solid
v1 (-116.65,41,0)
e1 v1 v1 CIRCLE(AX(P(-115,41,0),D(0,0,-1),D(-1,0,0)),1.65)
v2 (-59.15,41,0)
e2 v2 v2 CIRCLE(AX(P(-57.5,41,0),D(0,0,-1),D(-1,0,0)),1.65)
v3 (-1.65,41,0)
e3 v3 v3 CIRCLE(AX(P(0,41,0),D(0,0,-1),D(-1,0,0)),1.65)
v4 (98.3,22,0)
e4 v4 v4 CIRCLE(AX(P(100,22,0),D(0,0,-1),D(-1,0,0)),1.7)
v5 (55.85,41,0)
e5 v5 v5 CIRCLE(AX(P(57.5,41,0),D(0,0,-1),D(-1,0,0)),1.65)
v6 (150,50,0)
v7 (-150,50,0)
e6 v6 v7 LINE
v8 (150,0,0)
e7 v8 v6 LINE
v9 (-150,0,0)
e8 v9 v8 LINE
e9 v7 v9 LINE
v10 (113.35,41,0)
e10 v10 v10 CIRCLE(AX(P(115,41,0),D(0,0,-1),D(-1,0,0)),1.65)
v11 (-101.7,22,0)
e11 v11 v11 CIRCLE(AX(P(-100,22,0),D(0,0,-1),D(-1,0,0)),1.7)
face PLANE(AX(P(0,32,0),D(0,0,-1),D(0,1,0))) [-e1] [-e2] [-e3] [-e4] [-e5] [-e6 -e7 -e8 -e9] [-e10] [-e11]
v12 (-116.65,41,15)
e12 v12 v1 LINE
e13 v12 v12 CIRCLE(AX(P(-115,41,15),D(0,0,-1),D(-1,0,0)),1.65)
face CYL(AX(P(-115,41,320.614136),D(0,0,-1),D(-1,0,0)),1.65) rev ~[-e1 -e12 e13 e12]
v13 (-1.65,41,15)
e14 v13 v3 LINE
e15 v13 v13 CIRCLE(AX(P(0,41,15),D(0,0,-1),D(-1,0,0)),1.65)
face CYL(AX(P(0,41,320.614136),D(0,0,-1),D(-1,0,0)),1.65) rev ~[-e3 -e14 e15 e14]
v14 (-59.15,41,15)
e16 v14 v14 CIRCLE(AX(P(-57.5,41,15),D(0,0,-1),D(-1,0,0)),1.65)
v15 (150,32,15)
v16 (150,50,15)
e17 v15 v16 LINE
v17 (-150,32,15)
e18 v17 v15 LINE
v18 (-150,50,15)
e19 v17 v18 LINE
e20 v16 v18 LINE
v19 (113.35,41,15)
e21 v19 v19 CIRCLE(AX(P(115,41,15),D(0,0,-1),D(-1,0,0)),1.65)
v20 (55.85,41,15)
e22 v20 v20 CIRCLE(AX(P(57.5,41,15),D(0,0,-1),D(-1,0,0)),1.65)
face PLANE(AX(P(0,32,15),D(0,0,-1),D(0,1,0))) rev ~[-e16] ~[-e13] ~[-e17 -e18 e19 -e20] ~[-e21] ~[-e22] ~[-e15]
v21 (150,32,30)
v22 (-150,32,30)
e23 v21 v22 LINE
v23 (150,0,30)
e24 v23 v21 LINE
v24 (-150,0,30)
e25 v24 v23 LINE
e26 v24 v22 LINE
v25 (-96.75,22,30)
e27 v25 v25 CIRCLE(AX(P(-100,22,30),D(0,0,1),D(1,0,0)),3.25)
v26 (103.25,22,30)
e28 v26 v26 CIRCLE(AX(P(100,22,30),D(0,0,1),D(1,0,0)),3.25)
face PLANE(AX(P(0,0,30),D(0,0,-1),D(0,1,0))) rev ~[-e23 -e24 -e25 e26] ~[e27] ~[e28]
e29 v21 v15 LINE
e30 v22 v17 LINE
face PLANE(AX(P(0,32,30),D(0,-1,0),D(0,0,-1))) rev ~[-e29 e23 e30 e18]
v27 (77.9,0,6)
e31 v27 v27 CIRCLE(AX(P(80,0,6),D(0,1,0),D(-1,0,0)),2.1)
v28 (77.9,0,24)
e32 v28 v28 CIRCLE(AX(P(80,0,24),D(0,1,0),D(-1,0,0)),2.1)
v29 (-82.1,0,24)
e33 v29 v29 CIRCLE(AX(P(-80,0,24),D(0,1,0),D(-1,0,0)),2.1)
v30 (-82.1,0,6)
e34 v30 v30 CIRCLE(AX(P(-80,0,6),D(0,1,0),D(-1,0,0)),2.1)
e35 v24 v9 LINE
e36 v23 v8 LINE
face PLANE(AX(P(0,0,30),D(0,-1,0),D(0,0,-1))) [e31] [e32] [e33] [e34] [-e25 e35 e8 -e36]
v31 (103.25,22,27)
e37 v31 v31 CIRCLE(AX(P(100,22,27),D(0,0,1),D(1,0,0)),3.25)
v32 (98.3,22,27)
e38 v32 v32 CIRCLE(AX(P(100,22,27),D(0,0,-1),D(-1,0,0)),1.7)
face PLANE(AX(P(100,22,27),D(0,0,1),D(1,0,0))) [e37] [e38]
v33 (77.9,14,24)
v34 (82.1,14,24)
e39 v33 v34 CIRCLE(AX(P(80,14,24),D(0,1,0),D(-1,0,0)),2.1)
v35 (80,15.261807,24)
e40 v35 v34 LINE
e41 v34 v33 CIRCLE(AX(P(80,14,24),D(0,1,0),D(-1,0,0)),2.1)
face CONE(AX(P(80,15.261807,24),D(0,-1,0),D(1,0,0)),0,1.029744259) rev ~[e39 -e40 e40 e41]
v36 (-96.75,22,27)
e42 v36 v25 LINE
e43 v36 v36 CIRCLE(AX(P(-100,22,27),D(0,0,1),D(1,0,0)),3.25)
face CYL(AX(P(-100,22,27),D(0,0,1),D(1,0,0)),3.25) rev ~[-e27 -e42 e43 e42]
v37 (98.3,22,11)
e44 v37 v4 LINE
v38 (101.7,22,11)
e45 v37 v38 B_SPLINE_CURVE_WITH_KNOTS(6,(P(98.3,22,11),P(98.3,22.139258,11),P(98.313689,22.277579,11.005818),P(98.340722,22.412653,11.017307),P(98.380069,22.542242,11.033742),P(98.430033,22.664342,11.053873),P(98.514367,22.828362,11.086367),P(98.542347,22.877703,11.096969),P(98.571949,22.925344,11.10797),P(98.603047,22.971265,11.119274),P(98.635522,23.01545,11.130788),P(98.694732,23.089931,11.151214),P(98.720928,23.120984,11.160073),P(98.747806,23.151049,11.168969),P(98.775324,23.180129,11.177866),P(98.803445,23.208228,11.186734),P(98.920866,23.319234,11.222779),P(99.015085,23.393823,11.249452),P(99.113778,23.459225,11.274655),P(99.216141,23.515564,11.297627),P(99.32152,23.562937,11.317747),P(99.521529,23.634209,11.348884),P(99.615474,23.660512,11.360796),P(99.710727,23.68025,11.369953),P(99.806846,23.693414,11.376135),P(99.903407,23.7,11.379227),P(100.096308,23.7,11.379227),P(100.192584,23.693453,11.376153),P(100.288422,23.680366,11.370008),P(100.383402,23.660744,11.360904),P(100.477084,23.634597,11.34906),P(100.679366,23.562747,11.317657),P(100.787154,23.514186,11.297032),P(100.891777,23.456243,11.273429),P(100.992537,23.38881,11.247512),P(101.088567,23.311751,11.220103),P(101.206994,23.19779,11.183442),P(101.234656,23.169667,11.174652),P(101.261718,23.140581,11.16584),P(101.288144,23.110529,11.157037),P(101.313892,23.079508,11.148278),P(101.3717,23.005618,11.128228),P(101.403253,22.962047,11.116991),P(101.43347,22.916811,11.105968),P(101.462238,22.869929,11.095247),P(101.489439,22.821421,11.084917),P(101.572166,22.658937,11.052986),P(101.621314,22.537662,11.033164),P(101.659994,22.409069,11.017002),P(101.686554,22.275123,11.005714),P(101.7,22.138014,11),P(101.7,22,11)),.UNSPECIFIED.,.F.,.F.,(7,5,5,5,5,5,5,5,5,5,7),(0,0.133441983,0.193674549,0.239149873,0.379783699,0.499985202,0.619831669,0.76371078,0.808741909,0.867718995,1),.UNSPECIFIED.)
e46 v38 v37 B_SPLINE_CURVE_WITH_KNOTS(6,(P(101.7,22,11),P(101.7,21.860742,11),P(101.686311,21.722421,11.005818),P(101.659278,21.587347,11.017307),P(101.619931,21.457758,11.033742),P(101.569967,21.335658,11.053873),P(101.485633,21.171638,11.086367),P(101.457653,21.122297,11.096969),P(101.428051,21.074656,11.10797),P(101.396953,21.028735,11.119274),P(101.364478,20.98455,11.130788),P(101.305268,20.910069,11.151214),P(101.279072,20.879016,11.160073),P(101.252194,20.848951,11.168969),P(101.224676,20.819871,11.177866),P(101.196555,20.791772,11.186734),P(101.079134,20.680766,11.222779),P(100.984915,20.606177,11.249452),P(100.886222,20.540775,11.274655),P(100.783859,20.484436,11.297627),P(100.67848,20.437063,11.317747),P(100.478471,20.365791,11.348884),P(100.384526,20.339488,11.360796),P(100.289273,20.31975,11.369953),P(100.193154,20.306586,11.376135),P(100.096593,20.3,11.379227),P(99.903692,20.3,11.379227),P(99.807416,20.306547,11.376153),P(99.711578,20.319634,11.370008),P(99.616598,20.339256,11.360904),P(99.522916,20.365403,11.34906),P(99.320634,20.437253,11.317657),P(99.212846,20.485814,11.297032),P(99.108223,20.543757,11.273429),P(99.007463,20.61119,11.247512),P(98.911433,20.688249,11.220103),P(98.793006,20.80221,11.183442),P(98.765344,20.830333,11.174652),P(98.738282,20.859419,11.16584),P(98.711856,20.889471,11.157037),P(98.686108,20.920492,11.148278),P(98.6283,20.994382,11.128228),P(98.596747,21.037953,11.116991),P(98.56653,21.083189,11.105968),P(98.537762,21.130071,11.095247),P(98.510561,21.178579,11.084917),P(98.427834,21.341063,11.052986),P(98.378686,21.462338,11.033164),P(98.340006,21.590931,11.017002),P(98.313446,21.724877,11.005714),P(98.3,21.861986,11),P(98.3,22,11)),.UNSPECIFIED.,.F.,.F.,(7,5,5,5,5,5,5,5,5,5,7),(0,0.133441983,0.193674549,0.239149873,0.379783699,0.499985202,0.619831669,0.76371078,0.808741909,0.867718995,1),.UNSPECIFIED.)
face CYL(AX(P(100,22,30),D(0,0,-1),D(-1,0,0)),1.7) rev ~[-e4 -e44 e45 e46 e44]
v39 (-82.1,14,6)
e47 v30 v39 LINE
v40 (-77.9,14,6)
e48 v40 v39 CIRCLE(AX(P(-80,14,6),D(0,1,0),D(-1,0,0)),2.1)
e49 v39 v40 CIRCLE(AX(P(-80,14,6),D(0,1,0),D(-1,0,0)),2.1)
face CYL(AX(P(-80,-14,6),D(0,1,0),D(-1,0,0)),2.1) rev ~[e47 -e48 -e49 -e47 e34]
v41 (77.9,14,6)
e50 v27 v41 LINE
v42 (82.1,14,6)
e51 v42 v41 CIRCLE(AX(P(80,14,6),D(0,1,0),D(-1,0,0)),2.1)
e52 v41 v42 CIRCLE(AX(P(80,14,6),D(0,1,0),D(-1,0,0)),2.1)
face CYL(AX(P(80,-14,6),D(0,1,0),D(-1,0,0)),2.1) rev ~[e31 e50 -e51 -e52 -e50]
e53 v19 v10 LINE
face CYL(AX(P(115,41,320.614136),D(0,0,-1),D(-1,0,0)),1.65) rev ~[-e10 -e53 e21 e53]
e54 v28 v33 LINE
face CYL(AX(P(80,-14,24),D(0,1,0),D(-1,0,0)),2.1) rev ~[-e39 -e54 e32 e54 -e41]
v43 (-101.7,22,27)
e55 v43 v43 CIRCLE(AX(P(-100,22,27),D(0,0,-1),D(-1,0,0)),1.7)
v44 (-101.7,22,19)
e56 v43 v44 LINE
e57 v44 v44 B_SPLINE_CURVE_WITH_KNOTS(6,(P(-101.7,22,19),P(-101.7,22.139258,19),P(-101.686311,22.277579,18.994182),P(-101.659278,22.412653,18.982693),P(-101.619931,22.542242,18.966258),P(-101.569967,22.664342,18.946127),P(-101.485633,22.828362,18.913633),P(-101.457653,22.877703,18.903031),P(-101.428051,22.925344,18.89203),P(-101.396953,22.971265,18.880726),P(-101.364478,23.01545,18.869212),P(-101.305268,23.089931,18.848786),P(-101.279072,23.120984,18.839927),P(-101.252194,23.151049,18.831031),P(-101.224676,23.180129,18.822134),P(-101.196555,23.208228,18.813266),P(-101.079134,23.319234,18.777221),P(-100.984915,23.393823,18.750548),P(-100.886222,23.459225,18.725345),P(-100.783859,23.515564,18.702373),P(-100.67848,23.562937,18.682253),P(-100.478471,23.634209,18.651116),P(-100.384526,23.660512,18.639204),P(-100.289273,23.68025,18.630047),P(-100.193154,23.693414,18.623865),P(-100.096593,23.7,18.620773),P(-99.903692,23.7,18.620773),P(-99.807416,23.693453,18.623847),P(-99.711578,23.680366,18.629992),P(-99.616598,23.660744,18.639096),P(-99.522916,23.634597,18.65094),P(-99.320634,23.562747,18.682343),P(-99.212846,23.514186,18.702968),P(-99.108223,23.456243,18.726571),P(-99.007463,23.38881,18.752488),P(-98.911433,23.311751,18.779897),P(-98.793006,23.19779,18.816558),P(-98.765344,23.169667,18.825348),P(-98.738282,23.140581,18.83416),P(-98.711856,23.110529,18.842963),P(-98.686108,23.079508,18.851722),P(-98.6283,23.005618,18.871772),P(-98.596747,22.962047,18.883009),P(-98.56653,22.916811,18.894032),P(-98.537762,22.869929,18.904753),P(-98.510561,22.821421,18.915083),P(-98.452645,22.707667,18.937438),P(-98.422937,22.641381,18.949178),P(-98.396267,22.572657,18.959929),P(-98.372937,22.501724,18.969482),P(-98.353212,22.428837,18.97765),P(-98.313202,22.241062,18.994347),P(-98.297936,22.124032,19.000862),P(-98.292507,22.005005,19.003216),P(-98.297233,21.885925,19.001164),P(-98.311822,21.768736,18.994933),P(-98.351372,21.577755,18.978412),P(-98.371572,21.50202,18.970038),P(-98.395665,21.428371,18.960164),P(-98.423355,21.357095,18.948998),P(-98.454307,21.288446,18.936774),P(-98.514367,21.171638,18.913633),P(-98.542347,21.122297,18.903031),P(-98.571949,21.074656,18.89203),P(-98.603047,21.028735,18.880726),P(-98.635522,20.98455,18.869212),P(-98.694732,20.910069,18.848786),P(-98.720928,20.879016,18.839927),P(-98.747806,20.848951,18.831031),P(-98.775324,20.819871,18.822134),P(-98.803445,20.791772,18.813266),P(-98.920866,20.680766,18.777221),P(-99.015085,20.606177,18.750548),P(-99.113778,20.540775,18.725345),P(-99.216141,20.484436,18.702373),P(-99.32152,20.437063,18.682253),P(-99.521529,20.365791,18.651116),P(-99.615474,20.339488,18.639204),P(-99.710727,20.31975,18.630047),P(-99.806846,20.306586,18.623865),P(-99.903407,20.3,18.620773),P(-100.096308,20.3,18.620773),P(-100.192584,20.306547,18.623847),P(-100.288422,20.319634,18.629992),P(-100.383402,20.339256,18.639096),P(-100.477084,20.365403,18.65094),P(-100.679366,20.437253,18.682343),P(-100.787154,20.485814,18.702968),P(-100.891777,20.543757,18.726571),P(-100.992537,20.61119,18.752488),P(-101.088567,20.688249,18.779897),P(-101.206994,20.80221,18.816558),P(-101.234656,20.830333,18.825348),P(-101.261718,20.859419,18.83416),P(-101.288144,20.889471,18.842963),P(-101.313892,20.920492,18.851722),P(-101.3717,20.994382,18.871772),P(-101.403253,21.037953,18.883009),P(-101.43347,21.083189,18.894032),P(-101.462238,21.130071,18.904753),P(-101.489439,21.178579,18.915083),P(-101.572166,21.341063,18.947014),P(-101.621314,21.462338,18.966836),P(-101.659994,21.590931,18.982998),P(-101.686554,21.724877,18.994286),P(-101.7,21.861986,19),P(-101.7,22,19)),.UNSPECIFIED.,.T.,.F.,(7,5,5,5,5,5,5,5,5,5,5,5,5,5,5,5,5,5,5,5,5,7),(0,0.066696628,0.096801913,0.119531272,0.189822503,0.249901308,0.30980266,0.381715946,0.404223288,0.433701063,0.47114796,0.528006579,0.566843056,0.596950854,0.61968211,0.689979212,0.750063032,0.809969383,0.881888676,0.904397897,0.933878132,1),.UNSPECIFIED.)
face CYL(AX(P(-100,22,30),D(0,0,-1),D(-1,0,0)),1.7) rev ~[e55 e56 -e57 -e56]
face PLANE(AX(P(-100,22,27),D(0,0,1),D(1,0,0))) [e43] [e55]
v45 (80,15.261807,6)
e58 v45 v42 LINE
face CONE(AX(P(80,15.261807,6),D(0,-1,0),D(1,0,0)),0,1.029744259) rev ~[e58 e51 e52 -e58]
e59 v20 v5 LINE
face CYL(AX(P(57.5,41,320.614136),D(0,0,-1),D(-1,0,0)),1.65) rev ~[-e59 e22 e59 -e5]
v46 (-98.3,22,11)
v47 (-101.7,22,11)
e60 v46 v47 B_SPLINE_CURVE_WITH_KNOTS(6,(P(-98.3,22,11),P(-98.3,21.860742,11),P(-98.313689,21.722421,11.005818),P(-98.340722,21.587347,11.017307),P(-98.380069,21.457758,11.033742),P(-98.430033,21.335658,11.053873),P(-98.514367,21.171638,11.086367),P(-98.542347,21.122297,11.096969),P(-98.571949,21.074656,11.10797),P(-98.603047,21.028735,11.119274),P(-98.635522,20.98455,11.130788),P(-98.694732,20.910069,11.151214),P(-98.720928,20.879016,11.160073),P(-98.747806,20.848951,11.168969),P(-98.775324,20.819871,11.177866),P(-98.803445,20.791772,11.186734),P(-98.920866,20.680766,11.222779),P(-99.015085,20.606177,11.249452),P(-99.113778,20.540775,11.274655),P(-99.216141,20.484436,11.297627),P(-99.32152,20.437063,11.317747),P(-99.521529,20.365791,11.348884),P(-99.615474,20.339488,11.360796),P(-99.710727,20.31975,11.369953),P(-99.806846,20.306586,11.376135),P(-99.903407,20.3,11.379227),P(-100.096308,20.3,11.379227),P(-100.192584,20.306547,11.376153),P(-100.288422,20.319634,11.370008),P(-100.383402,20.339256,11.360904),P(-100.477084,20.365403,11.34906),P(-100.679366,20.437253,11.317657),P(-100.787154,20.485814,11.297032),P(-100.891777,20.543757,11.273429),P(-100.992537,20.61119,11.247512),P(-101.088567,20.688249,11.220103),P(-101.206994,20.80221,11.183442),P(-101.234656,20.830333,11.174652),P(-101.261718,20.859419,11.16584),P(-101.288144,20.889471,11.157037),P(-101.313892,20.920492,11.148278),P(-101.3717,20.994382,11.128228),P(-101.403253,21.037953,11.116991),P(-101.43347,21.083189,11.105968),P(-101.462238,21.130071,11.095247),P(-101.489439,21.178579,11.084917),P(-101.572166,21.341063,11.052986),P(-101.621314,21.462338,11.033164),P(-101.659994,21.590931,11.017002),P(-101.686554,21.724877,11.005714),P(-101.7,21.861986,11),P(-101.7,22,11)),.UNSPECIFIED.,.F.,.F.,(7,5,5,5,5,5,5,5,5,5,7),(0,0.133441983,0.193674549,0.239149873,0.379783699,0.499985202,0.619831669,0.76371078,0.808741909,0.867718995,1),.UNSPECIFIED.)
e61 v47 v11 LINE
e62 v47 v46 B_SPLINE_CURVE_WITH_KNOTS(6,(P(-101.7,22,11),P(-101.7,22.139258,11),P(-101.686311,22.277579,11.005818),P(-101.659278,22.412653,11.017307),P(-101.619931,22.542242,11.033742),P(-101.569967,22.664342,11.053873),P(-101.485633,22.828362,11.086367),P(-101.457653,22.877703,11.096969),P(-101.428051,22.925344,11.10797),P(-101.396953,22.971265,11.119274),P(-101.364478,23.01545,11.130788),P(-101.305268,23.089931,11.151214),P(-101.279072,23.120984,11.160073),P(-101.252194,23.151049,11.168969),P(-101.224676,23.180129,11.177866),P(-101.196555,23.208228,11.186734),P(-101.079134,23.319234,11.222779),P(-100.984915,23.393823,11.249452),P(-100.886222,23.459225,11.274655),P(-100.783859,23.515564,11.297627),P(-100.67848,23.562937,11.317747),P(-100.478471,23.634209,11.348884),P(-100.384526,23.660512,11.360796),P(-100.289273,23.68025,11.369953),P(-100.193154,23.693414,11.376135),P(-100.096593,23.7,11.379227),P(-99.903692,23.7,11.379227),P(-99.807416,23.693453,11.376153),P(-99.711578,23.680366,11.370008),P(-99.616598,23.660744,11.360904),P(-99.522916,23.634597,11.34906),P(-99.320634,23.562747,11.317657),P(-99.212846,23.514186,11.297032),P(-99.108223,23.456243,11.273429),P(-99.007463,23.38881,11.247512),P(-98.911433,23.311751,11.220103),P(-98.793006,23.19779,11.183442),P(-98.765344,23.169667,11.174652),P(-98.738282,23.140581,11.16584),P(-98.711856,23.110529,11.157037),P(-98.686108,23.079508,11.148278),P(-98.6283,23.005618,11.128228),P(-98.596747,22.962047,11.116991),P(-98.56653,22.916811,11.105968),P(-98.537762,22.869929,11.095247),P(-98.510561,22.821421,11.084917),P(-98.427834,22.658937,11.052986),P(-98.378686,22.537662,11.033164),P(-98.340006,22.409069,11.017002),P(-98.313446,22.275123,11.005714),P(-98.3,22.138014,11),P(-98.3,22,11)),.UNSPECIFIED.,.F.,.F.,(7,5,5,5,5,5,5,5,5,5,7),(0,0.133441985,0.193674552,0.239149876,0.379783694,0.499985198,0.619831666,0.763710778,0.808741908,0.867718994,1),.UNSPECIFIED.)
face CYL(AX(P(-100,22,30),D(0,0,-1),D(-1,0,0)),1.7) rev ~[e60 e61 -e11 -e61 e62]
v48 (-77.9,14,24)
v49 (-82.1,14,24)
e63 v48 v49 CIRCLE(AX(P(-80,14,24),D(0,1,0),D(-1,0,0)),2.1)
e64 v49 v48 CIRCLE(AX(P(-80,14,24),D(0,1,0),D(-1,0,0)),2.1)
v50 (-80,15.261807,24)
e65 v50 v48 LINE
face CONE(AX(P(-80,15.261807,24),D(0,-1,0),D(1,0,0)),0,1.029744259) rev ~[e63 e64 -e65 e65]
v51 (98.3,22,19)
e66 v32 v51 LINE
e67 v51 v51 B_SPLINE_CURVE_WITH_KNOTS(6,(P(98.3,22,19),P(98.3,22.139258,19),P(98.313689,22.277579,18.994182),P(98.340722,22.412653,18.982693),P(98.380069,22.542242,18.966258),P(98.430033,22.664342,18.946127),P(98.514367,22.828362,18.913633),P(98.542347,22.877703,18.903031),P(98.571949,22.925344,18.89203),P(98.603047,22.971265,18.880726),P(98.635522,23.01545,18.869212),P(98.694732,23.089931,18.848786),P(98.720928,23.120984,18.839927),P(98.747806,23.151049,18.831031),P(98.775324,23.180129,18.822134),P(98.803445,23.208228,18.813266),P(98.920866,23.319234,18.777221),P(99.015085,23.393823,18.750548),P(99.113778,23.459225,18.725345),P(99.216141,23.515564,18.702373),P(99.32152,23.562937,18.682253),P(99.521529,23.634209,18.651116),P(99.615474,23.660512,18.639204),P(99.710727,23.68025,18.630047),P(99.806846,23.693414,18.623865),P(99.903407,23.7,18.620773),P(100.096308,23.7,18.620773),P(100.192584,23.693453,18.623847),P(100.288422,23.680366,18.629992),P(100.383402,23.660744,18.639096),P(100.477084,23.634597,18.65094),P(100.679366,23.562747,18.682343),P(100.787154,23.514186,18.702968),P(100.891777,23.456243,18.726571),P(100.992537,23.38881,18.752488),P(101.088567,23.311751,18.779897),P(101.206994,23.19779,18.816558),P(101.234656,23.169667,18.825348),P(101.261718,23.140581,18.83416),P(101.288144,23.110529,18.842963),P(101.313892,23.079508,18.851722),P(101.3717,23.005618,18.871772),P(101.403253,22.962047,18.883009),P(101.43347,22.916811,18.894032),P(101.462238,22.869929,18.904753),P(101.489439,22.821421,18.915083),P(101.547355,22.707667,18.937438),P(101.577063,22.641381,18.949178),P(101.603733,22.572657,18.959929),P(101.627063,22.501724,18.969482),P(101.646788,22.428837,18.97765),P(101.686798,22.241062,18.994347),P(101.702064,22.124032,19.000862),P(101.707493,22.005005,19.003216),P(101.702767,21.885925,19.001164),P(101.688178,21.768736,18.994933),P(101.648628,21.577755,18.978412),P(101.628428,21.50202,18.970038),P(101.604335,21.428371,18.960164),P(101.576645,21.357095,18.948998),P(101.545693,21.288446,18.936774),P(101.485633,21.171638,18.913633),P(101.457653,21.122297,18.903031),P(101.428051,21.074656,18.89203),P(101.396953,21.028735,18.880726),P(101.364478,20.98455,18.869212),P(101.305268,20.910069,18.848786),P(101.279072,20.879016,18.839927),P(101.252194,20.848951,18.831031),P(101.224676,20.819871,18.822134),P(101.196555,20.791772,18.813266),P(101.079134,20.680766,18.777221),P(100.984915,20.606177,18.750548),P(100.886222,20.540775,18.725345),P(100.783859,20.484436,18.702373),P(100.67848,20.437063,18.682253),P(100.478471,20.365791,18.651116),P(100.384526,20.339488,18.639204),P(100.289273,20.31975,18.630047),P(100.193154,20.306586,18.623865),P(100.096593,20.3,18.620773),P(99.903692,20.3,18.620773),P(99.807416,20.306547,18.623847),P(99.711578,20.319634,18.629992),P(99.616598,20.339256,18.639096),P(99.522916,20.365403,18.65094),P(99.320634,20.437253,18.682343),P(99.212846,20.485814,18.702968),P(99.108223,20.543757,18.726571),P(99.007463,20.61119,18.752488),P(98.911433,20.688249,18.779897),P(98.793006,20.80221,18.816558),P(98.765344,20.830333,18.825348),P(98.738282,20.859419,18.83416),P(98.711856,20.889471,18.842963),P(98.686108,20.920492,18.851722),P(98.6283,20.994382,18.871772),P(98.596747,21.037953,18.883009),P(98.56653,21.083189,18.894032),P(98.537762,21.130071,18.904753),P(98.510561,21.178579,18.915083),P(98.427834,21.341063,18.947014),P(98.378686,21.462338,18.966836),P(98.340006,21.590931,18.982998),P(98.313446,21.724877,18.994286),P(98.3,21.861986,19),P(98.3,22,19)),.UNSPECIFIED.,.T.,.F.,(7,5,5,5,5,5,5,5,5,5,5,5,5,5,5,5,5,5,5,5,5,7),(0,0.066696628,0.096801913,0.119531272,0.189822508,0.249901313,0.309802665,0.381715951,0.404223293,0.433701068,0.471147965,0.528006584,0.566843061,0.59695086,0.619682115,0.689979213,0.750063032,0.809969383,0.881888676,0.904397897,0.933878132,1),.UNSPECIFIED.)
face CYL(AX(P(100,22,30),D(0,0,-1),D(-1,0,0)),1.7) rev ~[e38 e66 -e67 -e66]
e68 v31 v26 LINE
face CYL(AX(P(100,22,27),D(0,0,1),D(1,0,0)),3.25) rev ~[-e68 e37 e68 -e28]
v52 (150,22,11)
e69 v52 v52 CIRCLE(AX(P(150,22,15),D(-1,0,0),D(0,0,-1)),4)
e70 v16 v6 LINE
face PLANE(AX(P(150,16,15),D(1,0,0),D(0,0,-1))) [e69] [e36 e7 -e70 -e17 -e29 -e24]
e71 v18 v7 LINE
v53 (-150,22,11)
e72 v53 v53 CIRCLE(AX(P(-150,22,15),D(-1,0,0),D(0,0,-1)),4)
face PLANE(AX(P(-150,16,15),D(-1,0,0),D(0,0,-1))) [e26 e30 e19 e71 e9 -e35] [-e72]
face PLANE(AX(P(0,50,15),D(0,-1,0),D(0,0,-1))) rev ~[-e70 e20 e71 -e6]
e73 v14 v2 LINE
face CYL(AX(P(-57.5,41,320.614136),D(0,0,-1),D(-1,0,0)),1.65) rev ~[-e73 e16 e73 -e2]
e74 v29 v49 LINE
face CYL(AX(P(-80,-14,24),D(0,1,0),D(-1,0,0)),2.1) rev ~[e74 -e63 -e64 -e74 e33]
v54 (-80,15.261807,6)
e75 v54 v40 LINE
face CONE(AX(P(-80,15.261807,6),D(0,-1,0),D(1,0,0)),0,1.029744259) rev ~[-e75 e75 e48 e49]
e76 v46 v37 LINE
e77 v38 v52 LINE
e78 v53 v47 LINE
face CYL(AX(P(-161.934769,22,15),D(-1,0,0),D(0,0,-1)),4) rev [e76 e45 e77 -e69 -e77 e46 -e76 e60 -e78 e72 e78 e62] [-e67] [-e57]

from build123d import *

# Parameters (mm, degrees)
SKETCH1_W                                       = 30
SKETCH1_H                                       = 32
BOSS_EXTRUDE1_DEPTH                             = 150
CUT_EXTRUDE1_REACH                              = 158.282
SKETCH2_W                                       = 15
SKETCH2_H                                       = 18
CUT_EXTRUDE1_DIRECTION_2_REACH                  = 158.282
CUT_EXTRUDE2_DEPTH                              = 161.934769394
CUT_EXTRUDE2_DEPTH_BACK                         = 161.934769394
SKETCH3_R                                       = 4
CBORE_FOR_M3_SOCKET_HEAD_CAP_SCREW1_D           = 3.4
CBORE_FOR_M3_SOCKET_HEAD_CAP_SCREW1_CBORE_D     = 6.5
CBORE_FOR_M3_SOCKET_HEAD_CAP_SCREW1_CBORE_DEPTH = 3
M4X0_7_TAPPED_HOLE1_D                           = 3.3
M5X0_8_TAPPED_HOLE1_D                           = 4.2
M5X0_8_TAPPED_HOLE1_DEPTH                       = 14
M5X0_8_TAPPED_HOLE1_TIP                         = 1.2618073


with BuildPart() as part:
    # Sketch1 → Boss-Extrude1 (new, symmetric)
    with BuildSketch(Plane(origin=(0, 0, 0), x_dir=(0, 0, -1), z_dir=(1, 0, 0))):
        with Locations((-15, 16)):
            Rectangle(SKETCH1_W, SKETCH1_H)
    extrude(amount=BOSS_EXTRUDE1_DEPTH, both=True)

    # Cut-Extrude1: up to this face of the body (flat: up to its plane)
    cut_extrude1_end = Plane(part.part.faces().sort_by_distance((150, 16, 15))[0])
    # Sketch2 → Cut-Extrude1 (add, up to the picked face)
    with BuildSketch(Plane(origin=(0, 0, 0), x_dir=(0, 0, -1), z_dir=(1, 0, 0)), mode=Mode.PRIVATE) as cut_extrude1_sk1:
        with Locations((-7.5, 41)):
            Rectangle(SKETCH2_W, SKETCH2_H)
    cut_extrude1_tool1 = split(extrude(cut_extrude1_sk1.sketch, amount=CUT_EXTRUDE1_REACH, mode=Mode.PRIVATE), bisect_by=cut_extrude1_end, keep=Keep.BOTH, mode=Mode.PRIVATE)
    add(cut_extrude1_tool1.solids().sort_by(Axis((0, 41, 7.5), (1, 0, 0)))[0])

    # Cut-Extrude1 direction 2: up to this face of the body (flat: up to its plane)
    cut_extrude1_direction_2_end = Plane(part.part.faces().sort_by_distance((-150, 16, 15))[0])
    # Sketch2 → Cut-Extrude1 direction 2 (add, up to the picked face)
    with BuildSketch(Plane(origin=(0, 0, 0), x_dir=(0, 0, -1), z_dir=(1, 0, 0)), mode=Mode.PRIVATE) as cut_extrude1_direction_2_sk1:
        with Locations((-7.5, 41)):
            Rectangle(SKETCH2_W, SKETCH2_H)
    cut_extrude1_direction_2_tool1 = split(extrude(cut_extrude1_direction_2_sk1.sketch, amount=-CUT_EXTRUDE1_DIRECTION_2_REACH, mode=Mode.PRIVATE), bisect_by=cut_extrude1_direction_2_end, keep=Keep.BOTH, mode=Mode.PRIVATE)
    add(cut_extrude1_direction_2_tool1.solids().sort_by(Axis((0, 41, 7.5), (-1, 0, 0)))[0])

    # Sketch3 → Cut-Extrude2 (cut, two sides: drawn at the far end of the back side and taken through both)
    with BuildSketch(Plane(origin=(0, 0, 0), x_dir=(0, 0, -1), z_dir=(1, 0, 0)).offset(-CUT_EXTRUDE2_DEPTH_BACK)):
        with Locations((-15, 22)):
            Circle(SKETCH3_R)
    extrude(amount=CUT_EXTRUDE2_DEPTH + CUT_EXTRUDE2_DEPTH_BACK, mode=Mode.SUBTRACT)

    # CBORE for M3 Socket Head Cap Screw1 (through all)
    with Locations(Plane.XY.offset(30)):
        with Locations((100, 22), (-100, 22)):
            CounterBoreHole(CBORE_FOR_M3_SOCKET_HEAD_CAP_SCREW1_D / 2, CBORE_FOR_M3_SOCKET_HEAD_CAP_SCREW1_CBORE_D / 2, CBORE_FOR_M3_SOCKET_HEAD_CAP_SCREW1_CBORE_DEPTH)

    # M4x0.7 Tapped Hole1 (through all)
    with Locations(Plane.XY.offset(15)):
        with Locations((115, 41), (57.5, 41), (0, 41), (-57.5, 41), (-115, 41)):
            Hole(M4X0_7_TAPPED_HOLE1_D / 2)

    # M5x0.8 Tapped Hole1
    with Locations(Plane.XZ):
        with Locations((-80, 24), (-80, 6), (80, 6), (80, 24)):
            Hole(M5X0_8_TAPPED_HOLE1_D / 2, depth=M5X0_8_TAPPED_HOLE1_DEPTH)
            with Locations((0, 0, -(M5X0_8_TAPPED_HOLE1_DEPTH + M5X0_8_TAPPED_HOLE1_TIP / 2))):  # 118° drill point
                Cone(0, M5X0_8_TAPPED_HOLE1_D / 2, M5X0_8_TAPPED_HOLE1_TIP, mode=Mode.SUBTRACT)


solid = part.part
